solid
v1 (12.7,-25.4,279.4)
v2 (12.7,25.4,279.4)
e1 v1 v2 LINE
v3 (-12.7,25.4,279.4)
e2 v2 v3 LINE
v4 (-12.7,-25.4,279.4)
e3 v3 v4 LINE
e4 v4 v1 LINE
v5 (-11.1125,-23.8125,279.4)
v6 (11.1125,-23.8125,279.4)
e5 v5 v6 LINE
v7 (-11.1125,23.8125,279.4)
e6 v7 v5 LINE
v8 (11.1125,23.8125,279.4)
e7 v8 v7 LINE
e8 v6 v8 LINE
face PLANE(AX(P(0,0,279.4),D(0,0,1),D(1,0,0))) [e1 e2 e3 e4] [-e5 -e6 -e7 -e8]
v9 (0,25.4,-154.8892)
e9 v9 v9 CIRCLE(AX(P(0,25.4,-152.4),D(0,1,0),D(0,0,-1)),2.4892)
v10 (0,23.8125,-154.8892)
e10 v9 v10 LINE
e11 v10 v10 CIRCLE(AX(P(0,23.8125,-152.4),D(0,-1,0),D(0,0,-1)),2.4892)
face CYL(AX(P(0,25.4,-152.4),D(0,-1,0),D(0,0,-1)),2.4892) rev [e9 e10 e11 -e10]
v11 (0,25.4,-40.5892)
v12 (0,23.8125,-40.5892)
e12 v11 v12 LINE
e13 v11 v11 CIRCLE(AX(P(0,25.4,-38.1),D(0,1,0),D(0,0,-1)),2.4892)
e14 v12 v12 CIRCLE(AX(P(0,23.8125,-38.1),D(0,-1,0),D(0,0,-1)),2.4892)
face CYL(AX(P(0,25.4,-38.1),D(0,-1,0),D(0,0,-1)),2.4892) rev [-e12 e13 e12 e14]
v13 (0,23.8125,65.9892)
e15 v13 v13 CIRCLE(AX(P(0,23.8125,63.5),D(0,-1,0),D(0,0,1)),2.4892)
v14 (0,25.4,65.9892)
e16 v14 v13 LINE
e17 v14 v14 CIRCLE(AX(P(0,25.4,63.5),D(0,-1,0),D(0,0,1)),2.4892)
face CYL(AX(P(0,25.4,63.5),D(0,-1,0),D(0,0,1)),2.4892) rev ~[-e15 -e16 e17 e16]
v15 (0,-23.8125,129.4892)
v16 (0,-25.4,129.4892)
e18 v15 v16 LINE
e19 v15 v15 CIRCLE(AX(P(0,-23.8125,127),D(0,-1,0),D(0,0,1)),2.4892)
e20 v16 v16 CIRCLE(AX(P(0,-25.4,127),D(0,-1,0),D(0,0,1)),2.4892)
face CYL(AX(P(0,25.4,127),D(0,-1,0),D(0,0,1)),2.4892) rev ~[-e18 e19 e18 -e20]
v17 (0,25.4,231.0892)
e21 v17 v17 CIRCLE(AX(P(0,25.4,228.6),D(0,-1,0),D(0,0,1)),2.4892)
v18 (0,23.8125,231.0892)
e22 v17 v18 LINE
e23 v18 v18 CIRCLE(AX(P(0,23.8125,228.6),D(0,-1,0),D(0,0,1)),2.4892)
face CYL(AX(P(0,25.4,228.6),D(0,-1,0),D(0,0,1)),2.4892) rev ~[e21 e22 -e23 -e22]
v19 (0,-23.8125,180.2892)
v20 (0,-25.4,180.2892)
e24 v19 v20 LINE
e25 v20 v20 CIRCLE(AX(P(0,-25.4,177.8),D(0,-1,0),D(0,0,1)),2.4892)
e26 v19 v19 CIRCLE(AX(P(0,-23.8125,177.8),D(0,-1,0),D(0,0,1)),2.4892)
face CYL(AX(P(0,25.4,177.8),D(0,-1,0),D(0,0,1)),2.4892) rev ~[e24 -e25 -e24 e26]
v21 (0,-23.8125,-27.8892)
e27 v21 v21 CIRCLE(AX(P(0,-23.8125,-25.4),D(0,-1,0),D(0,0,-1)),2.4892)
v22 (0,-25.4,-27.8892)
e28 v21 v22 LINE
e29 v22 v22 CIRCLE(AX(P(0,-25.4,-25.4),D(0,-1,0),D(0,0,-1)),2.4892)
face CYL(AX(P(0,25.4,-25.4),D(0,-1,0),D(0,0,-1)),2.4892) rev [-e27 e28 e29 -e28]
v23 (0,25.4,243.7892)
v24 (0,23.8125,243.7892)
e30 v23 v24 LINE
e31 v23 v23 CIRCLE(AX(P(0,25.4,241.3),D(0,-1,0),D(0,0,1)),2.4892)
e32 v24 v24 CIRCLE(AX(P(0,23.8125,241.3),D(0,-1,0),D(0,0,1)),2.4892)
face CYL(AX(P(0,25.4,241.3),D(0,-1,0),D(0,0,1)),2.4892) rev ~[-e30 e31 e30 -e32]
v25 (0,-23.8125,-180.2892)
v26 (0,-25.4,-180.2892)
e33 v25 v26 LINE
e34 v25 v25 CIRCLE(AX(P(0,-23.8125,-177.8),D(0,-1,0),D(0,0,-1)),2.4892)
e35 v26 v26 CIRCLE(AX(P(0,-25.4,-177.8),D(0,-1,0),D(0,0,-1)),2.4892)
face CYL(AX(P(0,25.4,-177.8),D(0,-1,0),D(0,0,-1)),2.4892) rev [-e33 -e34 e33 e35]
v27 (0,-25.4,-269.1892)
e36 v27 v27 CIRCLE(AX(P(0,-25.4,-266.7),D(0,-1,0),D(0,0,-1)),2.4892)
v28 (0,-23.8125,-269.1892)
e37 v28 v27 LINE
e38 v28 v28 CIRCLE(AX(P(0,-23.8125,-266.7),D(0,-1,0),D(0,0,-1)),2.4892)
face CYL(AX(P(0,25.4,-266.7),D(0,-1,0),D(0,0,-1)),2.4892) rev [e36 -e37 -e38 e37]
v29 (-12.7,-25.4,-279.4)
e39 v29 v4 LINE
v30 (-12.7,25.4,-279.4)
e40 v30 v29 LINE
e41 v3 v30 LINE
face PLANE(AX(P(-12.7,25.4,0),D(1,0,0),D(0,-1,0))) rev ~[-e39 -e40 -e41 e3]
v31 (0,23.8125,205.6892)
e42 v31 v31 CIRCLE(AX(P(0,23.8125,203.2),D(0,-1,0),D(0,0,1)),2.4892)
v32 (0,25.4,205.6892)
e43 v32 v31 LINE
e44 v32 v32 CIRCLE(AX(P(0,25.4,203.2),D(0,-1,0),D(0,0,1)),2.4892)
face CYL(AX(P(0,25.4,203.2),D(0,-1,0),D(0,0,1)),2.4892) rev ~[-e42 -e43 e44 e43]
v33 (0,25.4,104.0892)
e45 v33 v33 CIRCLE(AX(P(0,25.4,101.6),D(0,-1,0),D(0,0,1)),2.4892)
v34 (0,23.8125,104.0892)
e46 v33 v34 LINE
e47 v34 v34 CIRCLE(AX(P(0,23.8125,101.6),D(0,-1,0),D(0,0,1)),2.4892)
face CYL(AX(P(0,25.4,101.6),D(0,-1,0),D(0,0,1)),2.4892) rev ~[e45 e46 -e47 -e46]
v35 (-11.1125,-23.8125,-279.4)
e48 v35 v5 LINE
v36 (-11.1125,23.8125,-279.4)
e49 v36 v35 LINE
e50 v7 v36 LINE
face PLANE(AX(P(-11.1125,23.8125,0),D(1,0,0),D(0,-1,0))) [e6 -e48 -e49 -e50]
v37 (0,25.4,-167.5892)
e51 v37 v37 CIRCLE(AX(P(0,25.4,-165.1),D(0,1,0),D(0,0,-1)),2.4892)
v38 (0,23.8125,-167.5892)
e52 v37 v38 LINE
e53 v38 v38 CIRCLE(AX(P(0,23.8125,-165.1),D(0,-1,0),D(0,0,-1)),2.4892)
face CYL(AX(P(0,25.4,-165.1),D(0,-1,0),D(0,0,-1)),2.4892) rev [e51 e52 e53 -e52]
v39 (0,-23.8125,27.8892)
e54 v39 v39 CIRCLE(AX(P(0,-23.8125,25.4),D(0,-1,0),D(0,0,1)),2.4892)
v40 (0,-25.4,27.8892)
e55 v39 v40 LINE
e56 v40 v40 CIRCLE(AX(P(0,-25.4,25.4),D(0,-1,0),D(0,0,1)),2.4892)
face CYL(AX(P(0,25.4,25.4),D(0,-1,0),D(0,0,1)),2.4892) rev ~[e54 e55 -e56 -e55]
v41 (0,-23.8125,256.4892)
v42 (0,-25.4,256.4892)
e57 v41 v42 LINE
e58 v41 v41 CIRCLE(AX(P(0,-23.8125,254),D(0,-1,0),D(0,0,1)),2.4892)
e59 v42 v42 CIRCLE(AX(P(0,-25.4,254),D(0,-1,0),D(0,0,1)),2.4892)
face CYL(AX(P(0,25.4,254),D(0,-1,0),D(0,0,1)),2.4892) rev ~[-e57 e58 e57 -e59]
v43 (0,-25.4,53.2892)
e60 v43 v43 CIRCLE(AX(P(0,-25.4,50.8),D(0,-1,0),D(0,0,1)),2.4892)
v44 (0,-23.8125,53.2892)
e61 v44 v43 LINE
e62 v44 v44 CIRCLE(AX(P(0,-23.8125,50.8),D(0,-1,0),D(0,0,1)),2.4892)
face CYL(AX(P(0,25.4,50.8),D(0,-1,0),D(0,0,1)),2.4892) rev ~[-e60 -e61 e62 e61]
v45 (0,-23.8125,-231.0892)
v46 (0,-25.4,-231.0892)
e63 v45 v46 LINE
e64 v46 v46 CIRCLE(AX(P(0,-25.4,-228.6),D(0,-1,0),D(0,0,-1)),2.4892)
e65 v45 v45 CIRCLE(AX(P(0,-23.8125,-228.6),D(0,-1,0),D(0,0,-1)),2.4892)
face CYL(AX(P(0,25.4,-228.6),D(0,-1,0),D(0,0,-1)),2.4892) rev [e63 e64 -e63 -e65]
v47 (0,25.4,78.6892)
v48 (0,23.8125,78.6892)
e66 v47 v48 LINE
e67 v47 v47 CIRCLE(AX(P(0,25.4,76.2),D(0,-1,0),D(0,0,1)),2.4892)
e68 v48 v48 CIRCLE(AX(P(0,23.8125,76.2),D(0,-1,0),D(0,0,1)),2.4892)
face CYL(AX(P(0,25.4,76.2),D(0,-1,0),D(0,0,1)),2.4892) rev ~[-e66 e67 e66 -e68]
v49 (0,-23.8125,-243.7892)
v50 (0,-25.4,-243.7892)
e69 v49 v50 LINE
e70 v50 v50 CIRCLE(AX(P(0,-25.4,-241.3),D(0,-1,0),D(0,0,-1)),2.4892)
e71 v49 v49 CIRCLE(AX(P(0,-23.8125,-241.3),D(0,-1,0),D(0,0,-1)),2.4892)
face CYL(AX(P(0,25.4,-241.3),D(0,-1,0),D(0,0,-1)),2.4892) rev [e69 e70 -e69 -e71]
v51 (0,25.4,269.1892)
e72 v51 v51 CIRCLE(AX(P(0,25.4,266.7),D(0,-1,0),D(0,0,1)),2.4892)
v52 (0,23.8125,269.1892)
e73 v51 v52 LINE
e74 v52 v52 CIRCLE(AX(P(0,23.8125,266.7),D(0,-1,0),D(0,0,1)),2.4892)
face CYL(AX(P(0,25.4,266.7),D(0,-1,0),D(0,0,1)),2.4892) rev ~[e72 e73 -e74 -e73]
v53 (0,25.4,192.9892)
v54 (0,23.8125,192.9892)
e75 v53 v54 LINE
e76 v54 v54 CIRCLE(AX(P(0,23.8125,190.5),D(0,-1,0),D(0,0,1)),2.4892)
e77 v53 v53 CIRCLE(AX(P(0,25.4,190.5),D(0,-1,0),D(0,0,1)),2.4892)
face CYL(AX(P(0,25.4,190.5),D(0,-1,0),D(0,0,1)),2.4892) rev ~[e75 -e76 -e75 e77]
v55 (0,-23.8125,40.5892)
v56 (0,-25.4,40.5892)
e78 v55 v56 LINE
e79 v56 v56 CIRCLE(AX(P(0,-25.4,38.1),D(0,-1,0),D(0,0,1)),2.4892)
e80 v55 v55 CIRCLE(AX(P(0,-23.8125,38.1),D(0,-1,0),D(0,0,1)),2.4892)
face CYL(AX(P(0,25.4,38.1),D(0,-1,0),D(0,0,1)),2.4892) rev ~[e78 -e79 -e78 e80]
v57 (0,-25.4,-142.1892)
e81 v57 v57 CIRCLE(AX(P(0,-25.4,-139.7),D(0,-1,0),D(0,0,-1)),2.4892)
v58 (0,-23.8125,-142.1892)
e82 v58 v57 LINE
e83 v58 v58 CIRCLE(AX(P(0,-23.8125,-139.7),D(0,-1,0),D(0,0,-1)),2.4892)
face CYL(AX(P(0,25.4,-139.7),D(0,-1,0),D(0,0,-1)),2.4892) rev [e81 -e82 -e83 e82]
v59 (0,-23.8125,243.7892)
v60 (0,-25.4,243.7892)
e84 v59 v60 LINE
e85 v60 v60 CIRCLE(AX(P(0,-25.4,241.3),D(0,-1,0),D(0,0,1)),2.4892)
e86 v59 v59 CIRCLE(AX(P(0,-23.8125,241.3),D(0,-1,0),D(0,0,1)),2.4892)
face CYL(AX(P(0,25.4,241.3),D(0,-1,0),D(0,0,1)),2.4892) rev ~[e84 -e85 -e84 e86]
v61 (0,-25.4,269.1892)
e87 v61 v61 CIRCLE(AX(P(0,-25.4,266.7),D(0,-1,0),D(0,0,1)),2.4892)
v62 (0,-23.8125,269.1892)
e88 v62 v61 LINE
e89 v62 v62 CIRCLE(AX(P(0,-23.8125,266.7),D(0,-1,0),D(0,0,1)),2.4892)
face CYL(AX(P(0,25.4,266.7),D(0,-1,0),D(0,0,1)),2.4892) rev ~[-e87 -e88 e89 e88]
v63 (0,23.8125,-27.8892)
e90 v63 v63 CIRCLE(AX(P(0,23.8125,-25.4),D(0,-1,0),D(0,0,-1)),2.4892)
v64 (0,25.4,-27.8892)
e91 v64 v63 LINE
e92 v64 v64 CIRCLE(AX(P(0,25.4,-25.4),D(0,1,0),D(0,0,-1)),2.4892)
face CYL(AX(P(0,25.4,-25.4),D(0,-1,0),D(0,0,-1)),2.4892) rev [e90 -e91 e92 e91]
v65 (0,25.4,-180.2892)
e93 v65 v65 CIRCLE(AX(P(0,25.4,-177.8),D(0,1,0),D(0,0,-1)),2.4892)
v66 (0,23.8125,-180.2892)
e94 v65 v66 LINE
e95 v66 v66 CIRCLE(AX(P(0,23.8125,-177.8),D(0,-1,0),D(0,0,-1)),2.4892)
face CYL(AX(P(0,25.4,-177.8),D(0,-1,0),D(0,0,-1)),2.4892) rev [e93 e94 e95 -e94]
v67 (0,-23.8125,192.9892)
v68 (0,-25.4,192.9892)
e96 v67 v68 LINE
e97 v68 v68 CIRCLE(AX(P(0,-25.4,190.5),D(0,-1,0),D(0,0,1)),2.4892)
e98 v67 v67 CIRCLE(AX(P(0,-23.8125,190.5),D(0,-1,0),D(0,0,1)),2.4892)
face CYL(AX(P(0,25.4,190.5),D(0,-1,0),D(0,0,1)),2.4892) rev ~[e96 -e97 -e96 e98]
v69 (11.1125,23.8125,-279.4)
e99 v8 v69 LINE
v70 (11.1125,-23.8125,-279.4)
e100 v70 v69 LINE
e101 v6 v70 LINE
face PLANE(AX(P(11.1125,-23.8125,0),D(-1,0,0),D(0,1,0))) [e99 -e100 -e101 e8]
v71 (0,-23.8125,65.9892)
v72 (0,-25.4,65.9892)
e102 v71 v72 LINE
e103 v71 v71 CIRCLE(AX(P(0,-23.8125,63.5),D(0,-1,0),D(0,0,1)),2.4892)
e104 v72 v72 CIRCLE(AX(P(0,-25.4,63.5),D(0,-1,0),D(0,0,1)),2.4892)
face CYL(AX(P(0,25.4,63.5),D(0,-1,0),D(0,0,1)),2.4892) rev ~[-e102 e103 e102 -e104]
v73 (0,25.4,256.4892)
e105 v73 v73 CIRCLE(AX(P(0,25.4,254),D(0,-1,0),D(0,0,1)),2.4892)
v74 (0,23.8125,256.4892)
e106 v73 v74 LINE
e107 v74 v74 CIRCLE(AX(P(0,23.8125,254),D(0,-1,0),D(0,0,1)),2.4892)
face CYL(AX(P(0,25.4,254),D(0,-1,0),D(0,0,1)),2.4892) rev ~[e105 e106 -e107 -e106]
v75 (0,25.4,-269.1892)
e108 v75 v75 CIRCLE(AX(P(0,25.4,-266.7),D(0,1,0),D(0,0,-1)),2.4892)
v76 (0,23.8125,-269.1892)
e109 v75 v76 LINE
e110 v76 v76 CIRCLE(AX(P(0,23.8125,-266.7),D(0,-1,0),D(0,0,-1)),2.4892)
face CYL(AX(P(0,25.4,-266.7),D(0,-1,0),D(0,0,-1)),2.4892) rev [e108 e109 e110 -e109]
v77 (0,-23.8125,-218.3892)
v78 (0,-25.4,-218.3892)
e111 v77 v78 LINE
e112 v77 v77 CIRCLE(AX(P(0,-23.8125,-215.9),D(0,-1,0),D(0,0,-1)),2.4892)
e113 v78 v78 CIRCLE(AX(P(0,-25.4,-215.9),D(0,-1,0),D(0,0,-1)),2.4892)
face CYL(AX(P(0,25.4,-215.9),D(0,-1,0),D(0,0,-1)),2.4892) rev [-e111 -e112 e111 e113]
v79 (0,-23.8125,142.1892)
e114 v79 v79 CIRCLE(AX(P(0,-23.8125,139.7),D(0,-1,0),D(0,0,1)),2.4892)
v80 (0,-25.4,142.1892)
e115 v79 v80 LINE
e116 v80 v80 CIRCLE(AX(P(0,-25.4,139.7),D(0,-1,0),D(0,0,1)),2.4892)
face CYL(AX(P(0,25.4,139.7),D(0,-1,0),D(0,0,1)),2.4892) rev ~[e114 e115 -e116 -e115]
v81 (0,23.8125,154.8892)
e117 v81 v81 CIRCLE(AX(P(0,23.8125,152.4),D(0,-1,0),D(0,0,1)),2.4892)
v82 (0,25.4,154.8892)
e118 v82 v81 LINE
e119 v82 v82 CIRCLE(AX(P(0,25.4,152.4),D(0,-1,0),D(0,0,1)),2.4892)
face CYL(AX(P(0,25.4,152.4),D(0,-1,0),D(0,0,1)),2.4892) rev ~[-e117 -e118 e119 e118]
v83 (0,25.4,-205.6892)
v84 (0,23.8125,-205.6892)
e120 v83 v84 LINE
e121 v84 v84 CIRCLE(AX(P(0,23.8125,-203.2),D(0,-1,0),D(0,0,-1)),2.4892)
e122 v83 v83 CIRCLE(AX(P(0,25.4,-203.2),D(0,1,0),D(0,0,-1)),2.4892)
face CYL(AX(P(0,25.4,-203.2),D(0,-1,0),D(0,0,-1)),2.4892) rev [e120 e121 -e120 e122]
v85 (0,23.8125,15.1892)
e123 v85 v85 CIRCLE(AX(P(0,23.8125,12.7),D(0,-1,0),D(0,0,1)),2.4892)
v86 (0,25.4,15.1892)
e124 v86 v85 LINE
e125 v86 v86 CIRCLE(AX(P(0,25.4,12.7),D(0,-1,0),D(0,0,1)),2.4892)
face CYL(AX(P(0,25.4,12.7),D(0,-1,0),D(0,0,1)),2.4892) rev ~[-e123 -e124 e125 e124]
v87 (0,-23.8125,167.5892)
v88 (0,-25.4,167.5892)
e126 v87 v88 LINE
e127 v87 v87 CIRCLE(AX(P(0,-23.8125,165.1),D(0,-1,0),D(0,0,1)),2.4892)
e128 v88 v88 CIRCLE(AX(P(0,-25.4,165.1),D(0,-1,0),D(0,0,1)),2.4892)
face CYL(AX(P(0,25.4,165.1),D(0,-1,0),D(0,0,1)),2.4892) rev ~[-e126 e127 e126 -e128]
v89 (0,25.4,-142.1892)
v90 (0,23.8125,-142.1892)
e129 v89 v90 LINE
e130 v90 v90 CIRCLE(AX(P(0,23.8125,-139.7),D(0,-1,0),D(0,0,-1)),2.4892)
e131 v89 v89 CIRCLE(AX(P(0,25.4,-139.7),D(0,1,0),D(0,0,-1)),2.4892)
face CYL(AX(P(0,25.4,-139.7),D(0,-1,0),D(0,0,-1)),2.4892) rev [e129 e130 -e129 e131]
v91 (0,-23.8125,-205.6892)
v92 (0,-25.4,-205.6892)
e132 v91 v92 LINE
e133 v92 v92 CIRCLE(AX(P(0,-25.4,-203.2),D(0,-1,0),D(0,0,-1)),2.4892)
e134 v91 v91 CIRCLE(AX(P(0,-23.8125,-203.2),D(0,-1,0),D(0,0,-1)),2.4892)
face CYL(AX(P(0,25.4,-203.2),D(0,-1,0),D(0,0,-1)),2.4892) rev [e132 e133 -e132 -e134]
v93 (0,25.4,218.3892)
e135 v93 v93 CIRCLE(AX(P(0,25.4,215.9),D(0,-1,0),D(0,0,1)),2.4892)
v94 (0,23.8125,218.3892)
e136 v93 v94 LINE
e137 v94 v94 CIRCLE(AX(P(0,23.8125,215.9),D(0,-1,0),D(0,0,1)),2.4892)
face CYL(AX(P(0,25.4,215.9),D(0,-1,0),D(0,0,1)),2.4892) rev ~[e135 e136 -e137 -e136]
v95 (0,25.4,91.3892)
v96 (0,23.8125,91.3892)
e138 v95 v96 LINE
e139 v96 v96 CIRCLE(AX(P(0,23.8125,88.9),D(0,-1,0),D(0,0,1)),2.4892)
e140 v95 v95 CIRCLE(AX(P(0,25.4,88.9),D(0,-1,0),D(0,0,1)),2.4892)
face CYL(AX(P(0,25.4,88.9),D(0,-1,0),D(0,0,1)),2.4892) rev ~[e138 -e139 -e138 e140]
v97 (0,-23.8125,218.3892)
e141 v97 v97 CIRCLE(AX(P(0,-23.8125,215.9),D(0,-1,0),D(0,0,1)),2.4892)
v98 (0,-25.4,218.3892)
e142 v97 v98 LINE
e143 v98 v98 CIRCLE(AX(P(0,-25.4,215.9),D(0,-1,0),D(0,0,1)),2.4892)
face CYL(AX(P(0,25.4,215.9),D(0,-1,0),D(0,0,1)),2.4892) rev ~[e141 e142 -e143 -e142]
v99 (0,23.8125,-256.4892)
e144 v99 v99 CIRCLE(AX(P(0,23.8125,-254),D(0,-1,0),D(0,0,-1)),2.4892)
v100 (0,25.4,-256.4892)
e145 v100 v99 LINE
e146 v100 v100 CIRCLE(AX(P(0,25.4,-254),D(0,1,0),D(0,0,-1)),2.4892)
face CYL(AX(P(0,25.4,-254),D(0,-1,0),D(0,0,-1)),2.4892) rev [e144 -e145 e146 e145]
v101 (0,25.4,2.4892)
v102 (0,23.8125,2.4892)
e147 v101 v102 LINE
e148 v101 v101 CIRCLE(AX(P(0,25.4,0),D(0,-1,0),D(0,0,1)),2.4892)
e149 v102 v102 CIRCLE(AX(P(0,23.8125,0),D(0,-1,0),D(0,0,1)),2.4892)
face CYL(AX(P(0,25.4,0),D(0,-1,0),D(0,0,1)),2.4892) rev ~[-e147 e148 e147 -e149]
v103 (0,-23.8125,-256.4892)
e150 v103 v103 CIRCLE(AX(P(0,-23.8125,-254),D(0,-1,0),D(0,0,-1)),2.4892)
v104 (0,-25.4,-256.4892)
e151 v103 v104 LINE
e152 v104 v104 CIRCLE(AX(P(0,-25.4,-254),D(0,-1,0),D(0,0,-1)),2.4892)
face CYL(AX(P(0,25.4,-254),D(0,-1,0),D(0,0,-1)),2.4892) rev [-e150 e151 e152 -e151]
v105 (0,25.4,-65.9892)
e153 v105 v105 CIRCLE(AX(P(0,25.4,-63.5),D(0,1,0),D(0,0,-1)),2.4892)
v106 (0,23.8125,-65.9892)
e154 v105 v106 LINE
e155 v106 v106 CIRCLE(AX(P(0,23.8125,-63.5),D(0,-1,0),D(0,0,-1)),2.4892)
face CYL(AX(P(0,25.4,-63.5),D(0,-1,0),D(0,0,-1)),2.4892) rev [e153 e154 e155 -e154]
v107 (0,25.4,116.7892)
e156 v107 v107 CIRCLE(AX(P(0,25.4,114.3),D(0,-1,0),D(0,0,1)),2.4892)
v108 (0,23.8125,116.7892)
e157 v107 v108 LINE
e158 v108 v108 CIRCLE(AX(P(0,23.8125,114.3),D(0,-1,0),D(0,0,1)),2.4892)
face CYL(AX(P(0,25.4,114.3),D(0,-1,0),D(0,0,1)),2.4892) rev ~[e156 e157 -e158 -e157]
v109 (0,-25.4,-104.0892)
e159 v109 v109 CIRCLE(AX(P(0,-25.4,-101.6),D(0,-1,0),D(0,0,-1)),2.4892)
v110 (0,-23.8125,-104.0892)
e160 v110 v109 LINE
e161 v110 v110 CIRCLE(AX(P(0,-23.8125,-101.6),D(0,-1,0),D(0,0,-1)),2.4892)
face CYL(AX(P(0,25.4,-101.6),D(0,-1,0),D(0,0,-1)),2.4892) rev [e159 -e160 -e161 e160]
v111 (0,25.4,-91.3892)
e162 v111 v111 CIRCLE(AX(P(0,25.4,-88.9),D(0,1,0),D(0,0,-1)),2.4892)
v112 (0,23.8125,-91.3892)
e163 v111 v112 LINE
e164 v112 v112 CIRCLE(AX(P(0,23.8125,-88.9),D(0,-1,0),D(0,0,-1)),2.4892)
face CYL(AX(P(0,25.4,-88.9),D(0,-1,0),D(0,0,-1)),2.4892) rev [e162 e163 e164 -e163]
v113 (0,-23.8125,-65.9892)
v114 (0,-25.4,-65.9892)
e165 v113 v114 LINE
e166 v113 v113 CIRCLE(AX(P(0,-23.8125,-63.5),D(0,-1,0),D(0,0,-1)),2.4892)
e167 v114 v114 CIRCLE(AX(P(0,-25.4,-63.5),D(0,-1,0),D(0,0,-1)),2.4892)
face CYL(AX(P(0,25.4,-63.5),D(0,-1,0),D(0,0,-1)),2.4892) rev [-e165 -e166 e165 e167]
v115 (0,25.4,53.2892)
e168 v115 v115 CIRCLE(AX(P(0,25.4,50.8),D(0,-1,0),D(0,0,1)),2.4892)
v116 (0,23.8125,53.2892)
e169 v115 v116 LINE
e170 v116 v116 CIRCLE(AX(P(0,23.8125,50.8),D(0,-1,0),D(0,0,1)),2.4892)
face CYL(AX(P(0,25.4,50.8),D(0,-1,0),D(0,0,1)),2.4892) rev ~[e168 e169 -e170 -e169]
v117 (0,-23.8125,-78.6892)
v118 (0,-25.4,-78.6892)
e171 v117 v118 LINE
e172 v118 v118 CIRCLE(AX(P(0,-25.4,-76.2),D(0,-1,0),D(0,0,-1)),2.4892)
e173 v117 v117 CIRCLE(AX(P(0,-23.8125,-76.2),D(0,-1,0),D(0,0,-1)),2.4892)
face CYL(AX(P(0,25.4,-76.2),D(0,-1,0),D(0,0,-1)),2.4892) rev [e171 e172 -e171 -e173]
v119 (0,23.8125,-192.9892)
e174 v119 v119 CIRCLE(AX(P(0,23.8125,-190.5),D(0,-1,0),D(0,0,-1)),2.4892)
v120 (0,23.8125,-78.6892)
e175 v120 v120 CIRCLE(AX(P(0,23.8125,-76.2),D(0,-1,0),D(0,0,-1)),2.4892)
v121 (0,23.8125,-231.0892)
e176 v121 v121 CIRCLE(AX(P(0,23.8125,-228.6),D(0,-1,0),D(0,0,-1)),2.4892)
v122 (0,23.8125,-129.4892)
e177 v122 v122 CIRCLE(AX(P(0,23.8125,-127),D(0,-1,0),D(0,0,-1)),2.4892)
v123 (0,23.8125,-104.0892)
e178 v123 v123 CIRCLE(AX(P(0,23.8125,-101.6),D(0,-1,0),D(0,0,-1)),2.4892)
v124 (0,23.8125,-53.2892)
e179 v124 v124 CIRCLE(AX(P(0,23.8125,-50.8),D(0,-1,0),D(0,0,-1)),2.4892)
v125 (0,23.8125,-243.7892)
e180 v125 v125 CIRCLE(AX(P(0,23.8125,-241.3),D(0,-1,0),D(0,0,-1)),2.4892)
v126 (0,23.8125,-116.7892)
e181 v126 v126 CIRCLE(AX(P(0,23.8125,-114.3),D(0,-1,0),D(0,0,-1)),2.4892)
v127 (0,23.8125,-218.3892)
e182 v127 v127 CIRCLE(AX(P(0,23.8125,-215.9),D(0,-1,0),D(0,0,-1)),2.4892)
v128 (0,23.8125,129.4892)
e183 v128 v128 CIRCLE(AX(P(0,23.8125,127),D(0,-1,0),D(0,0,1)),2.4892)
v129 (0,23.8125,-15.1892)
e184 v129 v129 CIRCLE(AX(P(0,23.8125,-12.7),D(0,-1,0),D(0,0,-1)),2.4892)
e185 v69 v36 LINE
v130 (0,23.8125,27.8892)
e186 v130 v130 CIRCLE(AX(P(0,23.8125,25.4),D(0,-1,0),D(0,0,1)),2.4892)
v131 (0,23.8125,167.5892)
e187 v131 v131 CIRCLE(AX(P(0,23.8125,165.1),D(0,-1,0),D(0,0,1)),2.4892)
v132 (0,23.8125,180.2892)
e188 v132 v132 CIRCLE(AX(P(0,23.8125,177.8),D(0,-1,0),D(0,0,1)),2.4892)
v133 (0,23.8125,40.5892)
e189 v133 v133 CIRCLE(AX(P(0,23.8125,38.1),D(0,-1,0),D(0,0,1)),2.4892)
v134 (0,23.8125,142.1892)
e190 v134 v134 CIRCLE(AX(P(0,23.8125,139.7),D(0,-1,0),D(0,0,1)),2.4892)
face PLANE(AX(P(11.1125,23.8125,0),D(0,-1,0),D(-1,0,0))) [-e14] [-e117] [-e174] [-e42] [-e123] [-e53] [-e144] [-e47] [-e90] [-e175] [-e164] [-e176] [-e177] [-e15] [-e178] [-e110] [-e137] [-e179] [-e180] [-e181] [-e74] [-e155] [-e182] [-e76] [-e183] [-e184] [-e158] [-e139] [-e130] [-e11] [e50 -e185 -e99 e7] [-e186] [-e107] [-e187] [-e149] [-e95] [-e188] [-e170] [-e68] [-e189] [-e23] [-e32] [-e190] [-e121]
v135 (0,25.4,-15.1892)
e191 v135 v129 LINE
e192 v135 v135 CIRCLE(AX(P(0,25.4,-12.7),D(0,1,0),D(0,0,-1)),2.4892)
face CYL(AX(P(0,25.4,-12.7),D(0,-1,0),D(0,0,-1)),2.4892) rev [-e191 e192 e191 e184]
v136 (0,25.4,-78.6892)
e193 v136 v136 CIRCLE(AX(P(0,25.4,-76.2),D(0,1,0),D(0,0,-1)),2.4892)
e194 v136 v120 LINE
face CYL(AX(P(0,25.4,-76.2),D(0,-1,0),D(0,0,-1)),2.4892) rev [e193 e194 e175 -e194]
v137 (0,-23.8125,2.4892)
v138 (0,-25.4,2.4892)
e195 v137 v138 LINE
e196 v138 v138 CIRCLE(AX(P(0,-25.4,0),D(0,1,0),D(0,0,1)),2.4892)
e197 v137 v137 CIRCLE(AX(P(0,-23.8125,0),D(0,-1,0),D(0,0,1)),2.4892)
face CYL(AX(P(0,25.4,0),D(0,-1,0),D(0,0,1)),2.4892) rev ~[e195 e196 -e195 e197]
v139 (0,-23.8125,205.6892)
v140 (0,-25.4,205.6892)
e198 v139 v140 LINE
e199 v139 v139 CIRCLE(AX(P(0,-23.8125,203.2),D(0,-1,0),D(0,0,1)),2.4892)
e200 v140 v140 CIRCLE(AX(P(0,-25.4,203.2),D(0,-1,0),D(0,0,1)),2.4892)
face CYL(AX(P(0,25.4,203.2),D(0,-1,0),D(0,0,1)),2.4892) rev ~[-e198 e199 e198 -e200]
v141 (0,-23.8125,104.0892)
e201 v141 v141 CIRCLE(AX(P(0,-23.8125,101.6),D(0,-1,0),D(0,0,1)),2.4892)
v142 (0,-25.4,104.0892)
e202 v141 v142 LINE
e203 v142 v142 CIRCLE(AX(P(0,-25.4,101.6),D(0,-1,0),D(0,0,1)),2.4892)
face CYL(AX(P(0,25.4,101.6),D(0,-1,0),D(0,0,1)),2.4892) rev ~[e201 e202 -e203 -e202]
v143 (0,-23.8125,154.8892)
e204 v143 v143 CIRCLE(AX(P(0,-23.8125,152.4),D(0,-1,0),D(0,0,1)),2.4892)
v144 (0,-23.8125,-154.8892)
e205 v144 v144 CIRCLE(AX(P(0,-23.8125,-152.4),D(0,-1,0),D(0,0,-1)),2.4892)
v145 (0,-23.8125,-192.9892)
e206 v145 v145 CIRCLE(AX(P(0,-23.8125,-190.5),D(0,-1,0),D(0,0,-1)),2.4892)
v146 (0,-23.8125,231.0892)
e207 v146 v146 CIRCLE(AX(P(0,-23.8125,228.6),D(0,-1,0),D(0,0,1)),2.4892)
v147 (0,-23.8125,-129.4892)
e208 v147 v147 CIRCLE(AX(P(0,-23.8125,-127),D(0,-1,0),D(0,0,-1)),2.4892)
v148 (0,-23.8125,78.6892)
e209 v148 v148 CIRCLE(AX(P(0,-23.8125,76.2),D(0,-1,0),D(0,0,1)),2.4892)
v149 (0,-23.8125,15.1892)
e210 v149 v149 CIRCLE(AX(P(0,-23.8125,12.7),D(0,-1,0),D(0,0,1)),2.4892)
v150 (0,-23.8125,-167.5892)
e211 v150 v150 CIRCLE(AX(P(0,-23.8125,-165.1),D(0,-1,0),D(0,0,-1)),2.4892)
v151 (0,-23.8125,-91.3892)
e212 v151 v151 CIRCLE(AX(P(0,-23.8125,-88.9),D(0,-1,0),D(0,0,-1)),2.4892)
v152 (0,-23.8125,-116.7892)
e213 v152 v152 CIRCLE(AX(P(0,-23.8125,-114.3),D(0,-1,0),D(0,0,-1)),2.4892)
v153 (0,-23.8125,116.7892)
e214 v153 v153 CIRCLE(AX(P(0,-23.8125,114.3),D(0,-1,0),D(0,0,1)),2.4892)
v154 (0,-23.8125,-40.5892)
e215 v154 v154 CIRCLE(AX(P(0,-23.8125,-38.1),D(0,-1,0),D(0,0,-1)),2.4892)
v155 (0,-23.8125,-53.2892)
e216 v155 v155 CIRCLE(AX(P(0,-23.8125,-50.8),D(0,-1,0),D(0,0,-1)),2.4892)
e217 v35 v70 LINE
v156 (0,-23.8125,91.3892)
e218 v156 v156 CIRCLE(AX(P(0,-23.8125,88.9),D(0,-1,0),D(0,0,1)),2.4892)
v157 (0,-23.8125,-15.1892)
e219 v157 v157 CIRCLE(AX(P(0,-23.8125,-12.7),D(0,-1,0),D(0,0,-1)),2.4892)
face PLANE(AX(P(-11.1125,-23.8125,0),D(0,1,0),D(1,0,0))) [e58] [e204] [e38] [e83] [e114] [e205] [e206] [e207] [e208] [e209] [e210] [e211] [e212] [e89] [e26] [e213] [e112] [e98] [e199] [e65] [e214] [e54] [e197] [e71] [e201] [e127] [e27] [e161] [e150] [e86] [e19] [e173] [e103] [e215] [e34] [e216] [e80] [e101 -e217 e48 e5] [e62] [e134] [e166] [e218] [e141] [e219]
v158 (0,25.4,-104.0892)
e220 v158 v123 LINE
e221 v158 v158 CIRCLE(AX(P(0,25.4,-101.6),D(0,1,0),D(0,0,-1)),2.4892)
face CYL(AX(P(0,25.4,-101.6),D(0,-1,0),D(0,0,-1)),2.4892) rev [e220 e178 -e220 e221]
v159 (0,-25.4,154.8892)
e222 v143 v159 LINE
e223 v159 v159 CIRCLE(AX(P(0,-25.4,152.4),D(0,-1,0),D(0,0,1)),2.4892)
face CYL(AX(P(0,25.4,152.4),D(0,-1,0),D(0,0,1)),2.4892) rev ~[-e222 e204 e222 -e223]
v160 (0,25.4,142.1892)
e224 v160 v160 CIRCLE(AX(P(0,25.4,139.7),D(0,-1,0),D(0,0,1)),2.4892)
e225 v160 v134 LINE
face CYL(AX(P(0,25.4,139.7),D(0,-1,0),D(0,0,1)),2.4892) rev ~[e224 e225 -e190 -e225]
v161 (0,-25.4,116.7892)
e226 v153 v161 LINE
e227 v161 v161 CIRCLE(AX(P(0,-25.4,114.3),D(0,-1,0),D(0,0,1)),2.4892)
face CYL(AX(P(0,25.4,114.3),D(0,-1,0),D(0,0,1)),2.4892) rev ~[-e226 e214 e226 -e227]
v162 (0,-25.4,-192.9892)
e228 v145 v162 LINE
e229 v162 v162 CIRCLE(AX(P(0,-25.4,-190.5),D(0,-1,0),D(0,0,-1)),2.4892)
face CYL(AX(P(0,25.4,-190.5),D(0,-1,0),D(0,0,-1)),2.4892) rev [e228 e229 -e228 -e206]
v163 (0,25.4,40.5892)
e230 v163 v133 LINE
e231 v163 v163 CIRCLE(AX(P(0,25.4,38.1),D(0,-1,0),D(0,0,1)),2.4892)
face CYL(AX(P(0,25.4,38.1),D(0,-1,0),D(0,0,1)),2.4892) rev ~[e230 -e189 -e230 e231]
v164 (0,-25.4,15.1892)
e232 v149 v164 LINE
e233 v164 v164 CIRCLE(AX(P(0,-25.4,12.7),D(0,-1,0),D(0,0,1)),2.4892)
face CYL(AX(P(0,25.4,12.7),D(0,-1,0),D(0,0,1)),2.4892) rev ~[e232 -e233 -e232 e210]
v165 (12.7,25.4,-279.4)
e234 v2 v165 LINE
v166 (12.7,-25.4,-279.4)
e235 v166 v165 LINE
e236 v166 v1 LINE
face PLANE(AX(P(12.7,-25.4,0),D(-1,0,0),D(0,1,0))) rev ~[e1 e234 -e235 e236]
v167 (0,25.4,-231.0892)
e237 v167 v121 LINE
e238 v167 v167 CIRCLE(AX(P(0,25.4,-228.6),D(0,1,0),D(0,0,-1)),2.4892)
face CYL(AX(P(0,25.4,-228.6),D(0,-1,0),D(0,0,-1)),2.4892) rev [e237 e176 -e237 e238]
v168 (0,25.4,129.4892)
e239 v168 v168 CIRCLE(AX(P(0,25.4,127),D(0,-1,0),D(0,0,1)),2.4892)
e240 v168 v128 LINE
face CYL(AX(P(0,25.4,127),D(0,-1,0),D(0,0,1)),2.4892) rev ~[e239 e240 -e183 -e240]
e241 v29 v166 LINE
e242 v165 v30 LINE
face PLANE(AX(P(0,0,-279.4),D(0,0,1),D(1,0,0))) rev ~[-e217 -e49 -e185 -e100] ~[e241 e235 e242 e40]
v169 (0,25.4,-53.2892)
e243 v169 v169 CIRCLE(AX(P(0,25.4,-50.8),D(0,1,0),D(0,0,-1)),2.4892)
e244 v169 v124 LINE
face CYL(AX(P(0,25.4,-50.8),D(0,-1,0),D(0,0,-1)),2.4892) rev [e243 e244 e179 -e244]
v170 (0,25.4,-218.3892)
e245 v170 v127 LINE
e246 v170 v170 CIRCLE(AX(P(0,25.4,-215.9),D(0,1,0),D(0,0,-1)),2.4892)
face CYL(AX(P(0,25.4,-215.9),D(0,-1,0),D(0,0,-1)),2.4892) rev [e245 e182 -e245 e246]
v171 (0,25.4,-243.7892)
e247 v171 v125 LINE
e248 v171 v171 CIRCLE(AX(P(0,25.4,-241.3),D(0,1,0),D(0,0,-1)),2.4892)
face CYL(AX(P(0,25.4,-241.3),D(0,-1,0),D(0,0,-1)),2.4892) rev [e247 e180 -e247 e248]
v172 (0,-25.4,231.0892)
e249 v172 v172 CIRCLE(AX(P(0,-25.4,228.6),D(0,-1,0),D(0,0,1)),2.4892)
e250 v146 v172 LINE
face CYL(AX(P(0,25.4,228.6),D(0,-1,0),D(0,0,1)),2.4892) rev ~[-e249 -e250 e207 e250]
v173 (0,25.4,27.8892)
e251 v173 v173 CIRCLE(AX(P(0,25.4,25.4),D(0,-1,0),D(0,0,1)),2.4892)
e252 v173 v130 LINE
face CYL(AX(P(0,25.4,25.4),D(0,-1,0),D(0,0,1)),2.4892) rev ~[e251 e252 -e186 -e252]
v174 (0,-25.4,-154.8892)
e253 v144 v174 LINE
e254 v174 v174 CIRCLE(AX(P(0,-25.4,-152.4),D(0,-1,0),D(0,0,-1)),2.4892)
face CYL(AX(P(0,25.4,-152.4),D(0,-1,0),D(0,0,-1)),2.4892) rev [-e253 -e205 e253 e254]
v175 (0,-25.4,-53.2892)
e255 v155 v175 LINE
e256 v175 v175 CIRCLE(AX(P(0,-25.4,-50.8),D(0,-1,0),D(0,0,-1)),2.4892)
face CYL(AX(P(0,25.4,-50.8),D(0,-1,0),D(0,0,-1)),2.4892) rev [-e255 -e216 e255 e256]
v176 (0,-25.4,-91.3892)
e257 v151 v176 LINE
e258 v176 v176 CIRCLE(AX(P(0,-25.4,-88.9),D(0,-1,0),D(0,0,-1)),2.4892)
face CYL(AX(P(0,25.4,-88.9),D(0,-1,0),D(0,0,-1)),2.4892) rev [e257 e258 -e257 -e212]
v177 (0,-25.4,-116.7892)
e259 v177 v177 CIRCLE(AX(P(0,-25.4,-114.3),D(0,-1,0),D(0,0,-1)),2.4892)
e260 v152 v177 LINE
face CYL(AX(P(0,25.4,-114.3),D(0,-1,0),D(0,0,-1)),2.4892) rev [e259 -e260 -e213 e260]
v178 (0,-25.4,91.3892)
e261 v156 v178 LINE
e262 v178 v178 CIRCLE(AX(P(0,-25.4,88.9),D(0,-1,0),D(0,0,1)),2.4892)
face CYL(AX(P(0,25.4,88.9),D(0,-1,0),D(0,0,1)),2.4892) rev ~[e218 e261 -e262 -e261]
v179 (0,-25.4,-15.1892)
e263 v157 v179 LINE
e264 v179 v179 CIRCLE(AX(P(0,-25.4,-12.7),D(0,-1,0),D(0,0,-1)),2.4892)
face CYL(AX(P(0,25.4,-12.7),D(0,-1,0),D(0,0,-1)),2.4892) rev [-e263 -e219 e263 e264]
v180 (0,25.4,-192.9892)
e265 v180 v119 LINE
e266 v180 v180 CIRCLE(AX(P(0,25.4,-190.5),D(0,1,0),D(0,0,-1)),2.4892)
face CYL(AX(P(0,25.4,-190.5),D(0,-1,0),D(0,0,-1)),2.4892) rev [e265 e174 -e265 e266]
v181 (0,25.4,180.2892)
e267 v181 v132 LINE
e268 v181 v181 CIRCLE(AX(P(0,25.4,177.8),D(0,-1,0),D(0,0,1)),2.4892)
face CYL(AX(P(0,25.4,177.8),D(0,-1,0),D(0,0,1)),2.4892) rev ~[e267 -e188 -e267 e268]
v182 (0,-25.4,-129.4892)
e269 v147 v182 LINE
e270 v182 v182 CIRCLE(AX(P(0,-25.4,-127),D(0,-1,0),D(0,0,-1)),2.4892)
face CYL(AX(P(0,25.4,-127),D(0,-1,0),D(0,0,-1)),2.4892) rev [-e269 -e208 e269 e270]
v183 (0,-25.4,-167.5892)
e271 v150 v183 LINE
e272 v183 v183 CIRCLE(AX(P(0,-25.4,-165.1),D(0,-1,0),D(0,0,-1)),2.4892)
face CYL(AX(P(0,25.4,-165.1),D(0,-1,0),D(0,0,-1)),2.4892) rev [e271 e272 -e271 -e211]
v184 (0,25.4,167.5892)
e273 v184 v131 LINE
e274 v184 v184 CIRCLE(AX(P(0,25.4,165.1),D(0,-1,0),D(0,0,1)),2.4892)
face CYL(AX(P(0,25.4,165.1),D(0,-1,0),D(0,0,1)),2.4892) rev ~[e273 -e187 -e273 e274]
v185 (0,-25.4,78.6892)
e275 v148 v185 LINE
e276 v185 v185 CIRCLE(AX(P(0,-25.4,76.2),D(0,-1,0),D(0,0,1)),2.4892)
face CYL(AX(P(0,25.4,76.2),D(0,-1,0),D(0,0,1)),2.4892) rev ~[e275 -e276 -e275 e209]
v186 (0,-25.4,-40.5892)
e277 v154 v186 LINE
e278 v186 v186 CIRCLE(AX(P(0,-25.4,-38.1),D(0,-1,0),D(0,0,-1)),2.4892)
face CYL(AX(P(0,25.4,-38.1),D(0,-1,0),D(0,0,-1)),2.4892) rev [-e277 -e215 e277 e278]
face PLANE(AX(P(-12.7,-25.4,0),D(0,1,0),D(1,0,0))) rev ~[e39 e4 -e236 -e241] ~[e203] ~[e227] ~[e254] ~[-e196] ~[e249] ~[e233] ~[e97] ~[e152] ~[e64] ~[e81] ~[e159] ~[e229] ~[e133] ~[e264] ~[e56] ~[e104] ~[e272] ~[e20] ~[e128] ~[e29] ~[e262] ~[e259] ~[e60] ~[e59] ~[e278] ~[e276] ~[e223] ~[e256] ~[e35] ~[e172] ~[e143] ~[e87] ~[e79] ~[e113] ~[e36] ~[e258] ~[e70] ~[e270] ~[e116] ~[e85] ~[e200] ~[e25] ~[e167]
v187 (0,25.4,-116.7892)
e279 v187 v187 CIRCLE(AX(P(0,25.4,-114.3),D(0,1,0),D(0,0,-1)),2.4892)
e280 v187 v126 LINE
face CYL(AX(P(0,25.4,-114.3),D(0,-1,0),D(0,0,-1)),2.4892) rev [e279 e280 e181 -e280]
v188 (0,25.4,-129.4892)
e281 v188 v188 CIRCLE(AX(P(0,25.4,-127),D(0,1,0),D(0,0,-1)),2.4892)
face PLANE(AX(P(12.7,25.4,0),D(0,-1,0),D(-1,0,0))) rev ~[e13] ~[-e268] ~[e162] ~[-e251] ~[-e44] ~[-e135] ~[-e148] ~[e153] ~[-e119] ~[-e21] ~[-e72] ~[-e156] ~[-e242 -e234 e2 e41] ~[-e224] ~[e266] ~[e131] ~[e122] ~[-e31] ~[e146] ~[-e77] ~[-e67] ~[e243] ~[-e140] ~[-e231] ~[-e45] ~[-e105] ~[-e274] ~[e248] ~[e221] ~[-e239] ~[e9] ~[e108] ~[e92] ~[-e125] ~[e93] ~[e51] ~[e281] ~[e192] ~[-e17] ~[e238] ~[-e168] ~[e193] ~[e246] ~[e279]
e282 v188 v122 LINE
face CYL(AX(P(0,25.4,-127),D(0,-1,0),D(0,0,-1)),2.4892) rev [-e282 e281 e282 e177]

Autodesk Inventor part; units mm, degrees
ref_plane "YZ Plane" through (0, 0, 0) normal (1, 0, 0) x (0, 1, 0)
ref_plane "XZ Plane" through (0, 0, 0) normal (0, 1, 0) x (-1, 0, 0)
ref_plane "XY Plane" through (0, 0, 0) normal (0, 0, 1) x (1, 0, 0)
sketch "Sketch1" plane through (0, 0, 0) normal (0, 0, 1) x (1, 0, 0)
  line L0 (-12.7, -25.4) -> (12.7, -25.4)
  line L1 (12.7, -25.4) -> (12.7, 25.4)
  line L2 (12.7, 25.4) -> (-12.7, 25.4)
  line L3 (-12.7, 25.4) -> (-12.7, -25.4)
  line L4 (-12.7, -25.4) -> (12.7, 25.4) construction
  line L5 (12.7, -25.4) -> (-12.7, 25.4) construction
  line L6 (-11.1125, -23.8125) -> (11.1125, -23.8125)
  line L7 (11.1125, -23.8125) -> (11.1125, 23.8125)
  line L8 (11.1125, 23.8125) -> (-11.1125, 23.8125)
  line L9 (-11.1125, 23.8125) -> (-11.1125, -23.8125)
  point P0 (0, 0)
  dimension "d0" = 25.4
  dimension "d1" = 50.8
  dimension "d2" = 1.5875
extrude "BaseTube" add sketch "Sketch1" along normal mid plane 558.8
sketch "TopPoint" plane through (-12.7, 25.4, 279.4) normal (0, 1, 0) x (1, 0, 0)
  line L0 (25.4, 0) -> (0, 0) projected
  line L1 (0, 558.8) -> (0, 0) projected
  point P0 (12.7, 12.7)
  dimension "TLE_" = 12.7
  dimension "TWE_" = 12.7
sketch "SidePoint" plane through (12.7, -25.4, 279.4) normal (1, 0, 0) x (0, 0, -1)
  line L0 (0, 0) -> (0, 50.8) projected
  line L1 (558.8, 50.8) -> (0, 50.8) projected
  point P0 (12.7, 38.1)
  dimension "SLE_" = 12.7
  dimension "SWE_" = 12.7
hole "TopHole" at (0, 25.4, 266.7) direction (0, -1, 0) diameter 4.9784 end through all
hole "SideHole" [suppressed]
pattern_linear "TopPattern" count 22 spacing 12.7 along (0, 0, -1) of "TopHole"
pattern_linear "SidePattern" [suppressed]
mirror "TopMirror" about plane through (0, 0, 0) normal (0, 0, 1) of "TopHole", "TopPattern"
mirror "SideMirror" [suppressed]
sketch "Sketch4" plane through (-12.7, 25.4, 279.4) normal (0, 1, 0) x (1, 0, 0)
  line L0 (25.4, 558.8) -> (25.4, 0) projected
  line L1 (25.4, 0) -> (0, 0) projected
  line L2 (0, 558.8) -> (25.4, 558.8) projected
  line L3 (0, 558.8) -> (0, 0) projected
  line L4 (0, 0) -> (25.4, 25.4)
  line L5 (0, 558.8) -> (25.4, 533.4)
  dimension "d36" = 25.4
extrude "CornerCut" [suppressed]
sketch "Sketch5" plane through (12.7, -25.4, 279.4) normal (1, 0, 0) x (0, 0, -1)
  circle A0 centre (31.75, 25.4) radius 14.2875
  line L0 (0, 0) -> (0, 50.8) projected
  point P0 (0, 25.4)
  dimension "d39" = 28.575
  dimension "d40" = 31.75
extrude "FrontBearingHole" [suppressed]
sketch "Sketch6" plane through (12.7, -25.4, 279.4) normal (1, 0, 0) x (0, 0, -1)
  circle A0 centre (527.05, 25.4) radius 14.2875
  line L0 (558.8, 50.8) -> (558.8, 0) projected
  point P0 (558.8, 25.4)
  dimension "d43" = 28.575
  dimension "d44" = 31.75
extrude "BackBearingHole" [suppressed]
sketch "Drivetrain" plane through (0, -25.4, 254) normal (1, 0, 0) x (0, 0, -1)
  circle A0 centre (-46.0312, 25.4) radius 14.2875
  circle A1 centre (153.9875, 23.8125) radius 14.2875
  line L0 (533.4, 50.8) -> (-25.4, 50.8) construction
  line L1 (533.4, 0) -> (-25.4, 0) construction
  arc A2 (-45.8868, 43.5908) -> (-46.1756, 7.2092) centre (-46.0312, 25.4) ccw construction
  arc A3 (153.8431, 5.6217) -> (154.1319, 42.0033) centre (153.9875, 23.8125) ccw construction
  line L2 (-45.8868, 43.5908) -> (154.1319, 42.0033) construction
  line L3 (153.8431, 5.6217) -> (-46.1756, 7.2092) construction
  circle A4 centre (-46.0312, 25.4) radius 50.8 construction
  circle A5 centre (153.9875, 23.8125) radius 50.8 construction
  circle A6 centre (354.0125, 23.8125) radius 50.8 construction
  circle A7 centre (554.0312, 25.4) radius 50.8 construction
  line L4 (254, 50.8) -> (254, 0) construction
  line L5 (153.9875, 23.8125) -> (354.0125, 23.8125) construction
  line L6 (153.9875, 5.6211) -> (354.0125, 5.6211) construction
  line L7 (354.0125, 42.0039) -> (153.9875, 42.0039) construction
  arc A8 (153.9875, 42.0039) -> (153.9875, 5.6211) centre (153.9875, 23.8125) ccw construction
  arc A9 (354.0125, 5.6211) -> (354.0125, 42.0039) centre (354.0125, 23.8125) ccw construction
  circle A10 centre (-69.8437, 25.4) radius 2.4892
  circle A11 centre (130.175, 23.8125) radius 2.4892
  circle A12 centre (-62.8692, 8.562) radius 2.4892
  circle A13 centre (-46.0312, 1.5875) radius 2.4892 construction
  circle A14 centre (-29.1932, 8.562) radius 2.4892
  circle A15 centre (-22.2187, 25.4) radius 2.4892
  circle A16 centre (-29.1932, 42.238) radius 2.4892
  circle A17 centre (-46.0312, 49.2125) radius 2.4892 construction
  circle A18 centre (-62.8692, 42.238) radius 2.4892
  circle A19 centre (137.1495, 6.9745) radius 2.4892
  circle A20 centre (153.9875, 0) radius 2.4892 construction
  circle A21 centre (170.8255, 6.9745) radius 2.4892
  circle A22 centre (177.8, 23.8125) radius 2.4892
  circle A23 centre (170.8255, 40.6505) radius 2.4892
  circle A24 centre (153.9875, 47.625) radius 2.4892 construction
  circle A25 centre (137.1495, 40.6505) radius 2.4892
  circle A26 centre (-7.9312, 26.9875) radius 2.4892
  circle A27 centre (-7.9312, 26.9875) radius 4.7625
  circle A28 centre (192.0875, 26.9875) radius 2.4892
  circle A29 centre (192.0875, 26.9875) radius 4.7625
  circle A30 centre (296.8436, 23.8125) radius 2.4892
  circle A31 centre (411.1436, 23.8125) radius 2.4892
  circle A32 centre (296.8436, 23.8125) radius 4.7625
  circle A33 centre (411.1436, 23.8125) radius 4.7625
  line L8 (533.4, 50.8) -> (-25.4, 50.8) projected
  line L9 (260.35, 50.8) -> (260.35, 0) construction
  line L10 (-25.4, 50.8) -> (-25.4, 0) projected
  circle A34 centre (321.7831, -7114.6072) radius 1.0724
  circle A35 centre (321.7831, -7114.6072) radius 5.5468
  circle A36 centre (330.1811, 23.8125) radius 4.7625
  circle A37 centre (330.1811, 23.8125) radius 2.4892
  circle A38 centre (377.8061, 23.8125) radius 2.4892
  circle A39 centre (377.8061, 23.8125) radius 4.7625
  point P0 (254, 23.8125)
  point P1 (353.9936, 23.8125)
  point P2 (254, 25.4)
  dimension "d6" = 4.9784
  dimension "d47" = 28.575
  dimension "d52" = 25.4
  dimension "d64" = 26.9875
  dimension "d68" = 36.3828
  dimension "d69" = 57.15
  dimension "d70" = 200.025
  dimension "d71" = 57.15
  dimension "DTOuter" = 200.025
  dimension "d74" = 101.6
  dimension "d186" = 38.1
  dimension "d189" = 38.1
  dimension "d190" = 23.8125
  dimension "d306" = 57.15
  dimension "d307" = 200.025
  dimension "d308" = 57.15
  dimension "d310" = 4.9784
  dimension "d313" = 360
  dimension "d317" = 360
  dimension "d319" = 47.625
  dimension "d320" = 47.625
  dimension "d321" = 4.9784
  dimension "d322" = 9.525
  dimension "d331" = 4.9784
  dimension "d334" = 360
  dimension "d336" = 114.3
  dimension "GB_Height" = 26.9875
  dimension "GB_Front_Bearing_Height" = 1.5875
  dimension "d340" = 9.525
  dimension "d345" = 6.35
  dimension "DTInner" = 106.3625
  dimension "GB_Front_Bearing_Dist" = 379.3936
  dimension "d349" = -20.6312
  dimension "d350" = 47.625
  dimension "d351" = 33.3375
  dimension "d352" = 33.3375
extrude "Bearings" [suppressed]
extrude "BearingBlocks" [suppressed]
extrude "InsideCams" [suppressed]
extrude "OutsideCams" [suppressed]
mirror "DTMirror" [suppressed]
extrude "InsideGB" [suppressed]
extrude "OutsideGB" [suppressed]
feature "FrontGBCamDelete" [suppressed]
feature "FrontMidGBCamDelete" [suppressed]
feature "BackMidGBCamDelete" [suppressed]
feature "BackGBCamDelete" [suppressed]
equation "\"d0\" = Width"
equation "\"d1\" = Height"
equation "\"d2\" = Wall"
equation "\"d3\" = Length"
equation "\"d6\" = HoleSize"
equation "\"Height\" = 50.8"
equation "\"Width\" = 25.4"
equation "\"Wall\" = 1.5875"
equation "\"Length\" = 558.8"
equation "\"Top_Lengthwise_Space\" = 12.7"
equation "\"Top_Widthwise_Space\" = 12.7"
equation "\"Top_Lengthwise_Edge\" = 12.7"
equation "\"Top_Widthwise_Edge\" = 12.7"
equation "\"Side_Lengthwise_Edge\" = 12.7"
equation "\"Side_Widthwise_Edge\" = 12.7"
equation "\"Side_Lengthwise_Space\" = 12.7"
equation "\"Side_Widthwise_Space\" = 12.7"
equation "\"DT_Outer_Default\" = 200.025"
equation "\"DT_Inner_Default\" = 200.025"
equation "\"HoleSize\" = 4.9784"
properties part number "6993, 22 in" material "Aluminum 6061"
